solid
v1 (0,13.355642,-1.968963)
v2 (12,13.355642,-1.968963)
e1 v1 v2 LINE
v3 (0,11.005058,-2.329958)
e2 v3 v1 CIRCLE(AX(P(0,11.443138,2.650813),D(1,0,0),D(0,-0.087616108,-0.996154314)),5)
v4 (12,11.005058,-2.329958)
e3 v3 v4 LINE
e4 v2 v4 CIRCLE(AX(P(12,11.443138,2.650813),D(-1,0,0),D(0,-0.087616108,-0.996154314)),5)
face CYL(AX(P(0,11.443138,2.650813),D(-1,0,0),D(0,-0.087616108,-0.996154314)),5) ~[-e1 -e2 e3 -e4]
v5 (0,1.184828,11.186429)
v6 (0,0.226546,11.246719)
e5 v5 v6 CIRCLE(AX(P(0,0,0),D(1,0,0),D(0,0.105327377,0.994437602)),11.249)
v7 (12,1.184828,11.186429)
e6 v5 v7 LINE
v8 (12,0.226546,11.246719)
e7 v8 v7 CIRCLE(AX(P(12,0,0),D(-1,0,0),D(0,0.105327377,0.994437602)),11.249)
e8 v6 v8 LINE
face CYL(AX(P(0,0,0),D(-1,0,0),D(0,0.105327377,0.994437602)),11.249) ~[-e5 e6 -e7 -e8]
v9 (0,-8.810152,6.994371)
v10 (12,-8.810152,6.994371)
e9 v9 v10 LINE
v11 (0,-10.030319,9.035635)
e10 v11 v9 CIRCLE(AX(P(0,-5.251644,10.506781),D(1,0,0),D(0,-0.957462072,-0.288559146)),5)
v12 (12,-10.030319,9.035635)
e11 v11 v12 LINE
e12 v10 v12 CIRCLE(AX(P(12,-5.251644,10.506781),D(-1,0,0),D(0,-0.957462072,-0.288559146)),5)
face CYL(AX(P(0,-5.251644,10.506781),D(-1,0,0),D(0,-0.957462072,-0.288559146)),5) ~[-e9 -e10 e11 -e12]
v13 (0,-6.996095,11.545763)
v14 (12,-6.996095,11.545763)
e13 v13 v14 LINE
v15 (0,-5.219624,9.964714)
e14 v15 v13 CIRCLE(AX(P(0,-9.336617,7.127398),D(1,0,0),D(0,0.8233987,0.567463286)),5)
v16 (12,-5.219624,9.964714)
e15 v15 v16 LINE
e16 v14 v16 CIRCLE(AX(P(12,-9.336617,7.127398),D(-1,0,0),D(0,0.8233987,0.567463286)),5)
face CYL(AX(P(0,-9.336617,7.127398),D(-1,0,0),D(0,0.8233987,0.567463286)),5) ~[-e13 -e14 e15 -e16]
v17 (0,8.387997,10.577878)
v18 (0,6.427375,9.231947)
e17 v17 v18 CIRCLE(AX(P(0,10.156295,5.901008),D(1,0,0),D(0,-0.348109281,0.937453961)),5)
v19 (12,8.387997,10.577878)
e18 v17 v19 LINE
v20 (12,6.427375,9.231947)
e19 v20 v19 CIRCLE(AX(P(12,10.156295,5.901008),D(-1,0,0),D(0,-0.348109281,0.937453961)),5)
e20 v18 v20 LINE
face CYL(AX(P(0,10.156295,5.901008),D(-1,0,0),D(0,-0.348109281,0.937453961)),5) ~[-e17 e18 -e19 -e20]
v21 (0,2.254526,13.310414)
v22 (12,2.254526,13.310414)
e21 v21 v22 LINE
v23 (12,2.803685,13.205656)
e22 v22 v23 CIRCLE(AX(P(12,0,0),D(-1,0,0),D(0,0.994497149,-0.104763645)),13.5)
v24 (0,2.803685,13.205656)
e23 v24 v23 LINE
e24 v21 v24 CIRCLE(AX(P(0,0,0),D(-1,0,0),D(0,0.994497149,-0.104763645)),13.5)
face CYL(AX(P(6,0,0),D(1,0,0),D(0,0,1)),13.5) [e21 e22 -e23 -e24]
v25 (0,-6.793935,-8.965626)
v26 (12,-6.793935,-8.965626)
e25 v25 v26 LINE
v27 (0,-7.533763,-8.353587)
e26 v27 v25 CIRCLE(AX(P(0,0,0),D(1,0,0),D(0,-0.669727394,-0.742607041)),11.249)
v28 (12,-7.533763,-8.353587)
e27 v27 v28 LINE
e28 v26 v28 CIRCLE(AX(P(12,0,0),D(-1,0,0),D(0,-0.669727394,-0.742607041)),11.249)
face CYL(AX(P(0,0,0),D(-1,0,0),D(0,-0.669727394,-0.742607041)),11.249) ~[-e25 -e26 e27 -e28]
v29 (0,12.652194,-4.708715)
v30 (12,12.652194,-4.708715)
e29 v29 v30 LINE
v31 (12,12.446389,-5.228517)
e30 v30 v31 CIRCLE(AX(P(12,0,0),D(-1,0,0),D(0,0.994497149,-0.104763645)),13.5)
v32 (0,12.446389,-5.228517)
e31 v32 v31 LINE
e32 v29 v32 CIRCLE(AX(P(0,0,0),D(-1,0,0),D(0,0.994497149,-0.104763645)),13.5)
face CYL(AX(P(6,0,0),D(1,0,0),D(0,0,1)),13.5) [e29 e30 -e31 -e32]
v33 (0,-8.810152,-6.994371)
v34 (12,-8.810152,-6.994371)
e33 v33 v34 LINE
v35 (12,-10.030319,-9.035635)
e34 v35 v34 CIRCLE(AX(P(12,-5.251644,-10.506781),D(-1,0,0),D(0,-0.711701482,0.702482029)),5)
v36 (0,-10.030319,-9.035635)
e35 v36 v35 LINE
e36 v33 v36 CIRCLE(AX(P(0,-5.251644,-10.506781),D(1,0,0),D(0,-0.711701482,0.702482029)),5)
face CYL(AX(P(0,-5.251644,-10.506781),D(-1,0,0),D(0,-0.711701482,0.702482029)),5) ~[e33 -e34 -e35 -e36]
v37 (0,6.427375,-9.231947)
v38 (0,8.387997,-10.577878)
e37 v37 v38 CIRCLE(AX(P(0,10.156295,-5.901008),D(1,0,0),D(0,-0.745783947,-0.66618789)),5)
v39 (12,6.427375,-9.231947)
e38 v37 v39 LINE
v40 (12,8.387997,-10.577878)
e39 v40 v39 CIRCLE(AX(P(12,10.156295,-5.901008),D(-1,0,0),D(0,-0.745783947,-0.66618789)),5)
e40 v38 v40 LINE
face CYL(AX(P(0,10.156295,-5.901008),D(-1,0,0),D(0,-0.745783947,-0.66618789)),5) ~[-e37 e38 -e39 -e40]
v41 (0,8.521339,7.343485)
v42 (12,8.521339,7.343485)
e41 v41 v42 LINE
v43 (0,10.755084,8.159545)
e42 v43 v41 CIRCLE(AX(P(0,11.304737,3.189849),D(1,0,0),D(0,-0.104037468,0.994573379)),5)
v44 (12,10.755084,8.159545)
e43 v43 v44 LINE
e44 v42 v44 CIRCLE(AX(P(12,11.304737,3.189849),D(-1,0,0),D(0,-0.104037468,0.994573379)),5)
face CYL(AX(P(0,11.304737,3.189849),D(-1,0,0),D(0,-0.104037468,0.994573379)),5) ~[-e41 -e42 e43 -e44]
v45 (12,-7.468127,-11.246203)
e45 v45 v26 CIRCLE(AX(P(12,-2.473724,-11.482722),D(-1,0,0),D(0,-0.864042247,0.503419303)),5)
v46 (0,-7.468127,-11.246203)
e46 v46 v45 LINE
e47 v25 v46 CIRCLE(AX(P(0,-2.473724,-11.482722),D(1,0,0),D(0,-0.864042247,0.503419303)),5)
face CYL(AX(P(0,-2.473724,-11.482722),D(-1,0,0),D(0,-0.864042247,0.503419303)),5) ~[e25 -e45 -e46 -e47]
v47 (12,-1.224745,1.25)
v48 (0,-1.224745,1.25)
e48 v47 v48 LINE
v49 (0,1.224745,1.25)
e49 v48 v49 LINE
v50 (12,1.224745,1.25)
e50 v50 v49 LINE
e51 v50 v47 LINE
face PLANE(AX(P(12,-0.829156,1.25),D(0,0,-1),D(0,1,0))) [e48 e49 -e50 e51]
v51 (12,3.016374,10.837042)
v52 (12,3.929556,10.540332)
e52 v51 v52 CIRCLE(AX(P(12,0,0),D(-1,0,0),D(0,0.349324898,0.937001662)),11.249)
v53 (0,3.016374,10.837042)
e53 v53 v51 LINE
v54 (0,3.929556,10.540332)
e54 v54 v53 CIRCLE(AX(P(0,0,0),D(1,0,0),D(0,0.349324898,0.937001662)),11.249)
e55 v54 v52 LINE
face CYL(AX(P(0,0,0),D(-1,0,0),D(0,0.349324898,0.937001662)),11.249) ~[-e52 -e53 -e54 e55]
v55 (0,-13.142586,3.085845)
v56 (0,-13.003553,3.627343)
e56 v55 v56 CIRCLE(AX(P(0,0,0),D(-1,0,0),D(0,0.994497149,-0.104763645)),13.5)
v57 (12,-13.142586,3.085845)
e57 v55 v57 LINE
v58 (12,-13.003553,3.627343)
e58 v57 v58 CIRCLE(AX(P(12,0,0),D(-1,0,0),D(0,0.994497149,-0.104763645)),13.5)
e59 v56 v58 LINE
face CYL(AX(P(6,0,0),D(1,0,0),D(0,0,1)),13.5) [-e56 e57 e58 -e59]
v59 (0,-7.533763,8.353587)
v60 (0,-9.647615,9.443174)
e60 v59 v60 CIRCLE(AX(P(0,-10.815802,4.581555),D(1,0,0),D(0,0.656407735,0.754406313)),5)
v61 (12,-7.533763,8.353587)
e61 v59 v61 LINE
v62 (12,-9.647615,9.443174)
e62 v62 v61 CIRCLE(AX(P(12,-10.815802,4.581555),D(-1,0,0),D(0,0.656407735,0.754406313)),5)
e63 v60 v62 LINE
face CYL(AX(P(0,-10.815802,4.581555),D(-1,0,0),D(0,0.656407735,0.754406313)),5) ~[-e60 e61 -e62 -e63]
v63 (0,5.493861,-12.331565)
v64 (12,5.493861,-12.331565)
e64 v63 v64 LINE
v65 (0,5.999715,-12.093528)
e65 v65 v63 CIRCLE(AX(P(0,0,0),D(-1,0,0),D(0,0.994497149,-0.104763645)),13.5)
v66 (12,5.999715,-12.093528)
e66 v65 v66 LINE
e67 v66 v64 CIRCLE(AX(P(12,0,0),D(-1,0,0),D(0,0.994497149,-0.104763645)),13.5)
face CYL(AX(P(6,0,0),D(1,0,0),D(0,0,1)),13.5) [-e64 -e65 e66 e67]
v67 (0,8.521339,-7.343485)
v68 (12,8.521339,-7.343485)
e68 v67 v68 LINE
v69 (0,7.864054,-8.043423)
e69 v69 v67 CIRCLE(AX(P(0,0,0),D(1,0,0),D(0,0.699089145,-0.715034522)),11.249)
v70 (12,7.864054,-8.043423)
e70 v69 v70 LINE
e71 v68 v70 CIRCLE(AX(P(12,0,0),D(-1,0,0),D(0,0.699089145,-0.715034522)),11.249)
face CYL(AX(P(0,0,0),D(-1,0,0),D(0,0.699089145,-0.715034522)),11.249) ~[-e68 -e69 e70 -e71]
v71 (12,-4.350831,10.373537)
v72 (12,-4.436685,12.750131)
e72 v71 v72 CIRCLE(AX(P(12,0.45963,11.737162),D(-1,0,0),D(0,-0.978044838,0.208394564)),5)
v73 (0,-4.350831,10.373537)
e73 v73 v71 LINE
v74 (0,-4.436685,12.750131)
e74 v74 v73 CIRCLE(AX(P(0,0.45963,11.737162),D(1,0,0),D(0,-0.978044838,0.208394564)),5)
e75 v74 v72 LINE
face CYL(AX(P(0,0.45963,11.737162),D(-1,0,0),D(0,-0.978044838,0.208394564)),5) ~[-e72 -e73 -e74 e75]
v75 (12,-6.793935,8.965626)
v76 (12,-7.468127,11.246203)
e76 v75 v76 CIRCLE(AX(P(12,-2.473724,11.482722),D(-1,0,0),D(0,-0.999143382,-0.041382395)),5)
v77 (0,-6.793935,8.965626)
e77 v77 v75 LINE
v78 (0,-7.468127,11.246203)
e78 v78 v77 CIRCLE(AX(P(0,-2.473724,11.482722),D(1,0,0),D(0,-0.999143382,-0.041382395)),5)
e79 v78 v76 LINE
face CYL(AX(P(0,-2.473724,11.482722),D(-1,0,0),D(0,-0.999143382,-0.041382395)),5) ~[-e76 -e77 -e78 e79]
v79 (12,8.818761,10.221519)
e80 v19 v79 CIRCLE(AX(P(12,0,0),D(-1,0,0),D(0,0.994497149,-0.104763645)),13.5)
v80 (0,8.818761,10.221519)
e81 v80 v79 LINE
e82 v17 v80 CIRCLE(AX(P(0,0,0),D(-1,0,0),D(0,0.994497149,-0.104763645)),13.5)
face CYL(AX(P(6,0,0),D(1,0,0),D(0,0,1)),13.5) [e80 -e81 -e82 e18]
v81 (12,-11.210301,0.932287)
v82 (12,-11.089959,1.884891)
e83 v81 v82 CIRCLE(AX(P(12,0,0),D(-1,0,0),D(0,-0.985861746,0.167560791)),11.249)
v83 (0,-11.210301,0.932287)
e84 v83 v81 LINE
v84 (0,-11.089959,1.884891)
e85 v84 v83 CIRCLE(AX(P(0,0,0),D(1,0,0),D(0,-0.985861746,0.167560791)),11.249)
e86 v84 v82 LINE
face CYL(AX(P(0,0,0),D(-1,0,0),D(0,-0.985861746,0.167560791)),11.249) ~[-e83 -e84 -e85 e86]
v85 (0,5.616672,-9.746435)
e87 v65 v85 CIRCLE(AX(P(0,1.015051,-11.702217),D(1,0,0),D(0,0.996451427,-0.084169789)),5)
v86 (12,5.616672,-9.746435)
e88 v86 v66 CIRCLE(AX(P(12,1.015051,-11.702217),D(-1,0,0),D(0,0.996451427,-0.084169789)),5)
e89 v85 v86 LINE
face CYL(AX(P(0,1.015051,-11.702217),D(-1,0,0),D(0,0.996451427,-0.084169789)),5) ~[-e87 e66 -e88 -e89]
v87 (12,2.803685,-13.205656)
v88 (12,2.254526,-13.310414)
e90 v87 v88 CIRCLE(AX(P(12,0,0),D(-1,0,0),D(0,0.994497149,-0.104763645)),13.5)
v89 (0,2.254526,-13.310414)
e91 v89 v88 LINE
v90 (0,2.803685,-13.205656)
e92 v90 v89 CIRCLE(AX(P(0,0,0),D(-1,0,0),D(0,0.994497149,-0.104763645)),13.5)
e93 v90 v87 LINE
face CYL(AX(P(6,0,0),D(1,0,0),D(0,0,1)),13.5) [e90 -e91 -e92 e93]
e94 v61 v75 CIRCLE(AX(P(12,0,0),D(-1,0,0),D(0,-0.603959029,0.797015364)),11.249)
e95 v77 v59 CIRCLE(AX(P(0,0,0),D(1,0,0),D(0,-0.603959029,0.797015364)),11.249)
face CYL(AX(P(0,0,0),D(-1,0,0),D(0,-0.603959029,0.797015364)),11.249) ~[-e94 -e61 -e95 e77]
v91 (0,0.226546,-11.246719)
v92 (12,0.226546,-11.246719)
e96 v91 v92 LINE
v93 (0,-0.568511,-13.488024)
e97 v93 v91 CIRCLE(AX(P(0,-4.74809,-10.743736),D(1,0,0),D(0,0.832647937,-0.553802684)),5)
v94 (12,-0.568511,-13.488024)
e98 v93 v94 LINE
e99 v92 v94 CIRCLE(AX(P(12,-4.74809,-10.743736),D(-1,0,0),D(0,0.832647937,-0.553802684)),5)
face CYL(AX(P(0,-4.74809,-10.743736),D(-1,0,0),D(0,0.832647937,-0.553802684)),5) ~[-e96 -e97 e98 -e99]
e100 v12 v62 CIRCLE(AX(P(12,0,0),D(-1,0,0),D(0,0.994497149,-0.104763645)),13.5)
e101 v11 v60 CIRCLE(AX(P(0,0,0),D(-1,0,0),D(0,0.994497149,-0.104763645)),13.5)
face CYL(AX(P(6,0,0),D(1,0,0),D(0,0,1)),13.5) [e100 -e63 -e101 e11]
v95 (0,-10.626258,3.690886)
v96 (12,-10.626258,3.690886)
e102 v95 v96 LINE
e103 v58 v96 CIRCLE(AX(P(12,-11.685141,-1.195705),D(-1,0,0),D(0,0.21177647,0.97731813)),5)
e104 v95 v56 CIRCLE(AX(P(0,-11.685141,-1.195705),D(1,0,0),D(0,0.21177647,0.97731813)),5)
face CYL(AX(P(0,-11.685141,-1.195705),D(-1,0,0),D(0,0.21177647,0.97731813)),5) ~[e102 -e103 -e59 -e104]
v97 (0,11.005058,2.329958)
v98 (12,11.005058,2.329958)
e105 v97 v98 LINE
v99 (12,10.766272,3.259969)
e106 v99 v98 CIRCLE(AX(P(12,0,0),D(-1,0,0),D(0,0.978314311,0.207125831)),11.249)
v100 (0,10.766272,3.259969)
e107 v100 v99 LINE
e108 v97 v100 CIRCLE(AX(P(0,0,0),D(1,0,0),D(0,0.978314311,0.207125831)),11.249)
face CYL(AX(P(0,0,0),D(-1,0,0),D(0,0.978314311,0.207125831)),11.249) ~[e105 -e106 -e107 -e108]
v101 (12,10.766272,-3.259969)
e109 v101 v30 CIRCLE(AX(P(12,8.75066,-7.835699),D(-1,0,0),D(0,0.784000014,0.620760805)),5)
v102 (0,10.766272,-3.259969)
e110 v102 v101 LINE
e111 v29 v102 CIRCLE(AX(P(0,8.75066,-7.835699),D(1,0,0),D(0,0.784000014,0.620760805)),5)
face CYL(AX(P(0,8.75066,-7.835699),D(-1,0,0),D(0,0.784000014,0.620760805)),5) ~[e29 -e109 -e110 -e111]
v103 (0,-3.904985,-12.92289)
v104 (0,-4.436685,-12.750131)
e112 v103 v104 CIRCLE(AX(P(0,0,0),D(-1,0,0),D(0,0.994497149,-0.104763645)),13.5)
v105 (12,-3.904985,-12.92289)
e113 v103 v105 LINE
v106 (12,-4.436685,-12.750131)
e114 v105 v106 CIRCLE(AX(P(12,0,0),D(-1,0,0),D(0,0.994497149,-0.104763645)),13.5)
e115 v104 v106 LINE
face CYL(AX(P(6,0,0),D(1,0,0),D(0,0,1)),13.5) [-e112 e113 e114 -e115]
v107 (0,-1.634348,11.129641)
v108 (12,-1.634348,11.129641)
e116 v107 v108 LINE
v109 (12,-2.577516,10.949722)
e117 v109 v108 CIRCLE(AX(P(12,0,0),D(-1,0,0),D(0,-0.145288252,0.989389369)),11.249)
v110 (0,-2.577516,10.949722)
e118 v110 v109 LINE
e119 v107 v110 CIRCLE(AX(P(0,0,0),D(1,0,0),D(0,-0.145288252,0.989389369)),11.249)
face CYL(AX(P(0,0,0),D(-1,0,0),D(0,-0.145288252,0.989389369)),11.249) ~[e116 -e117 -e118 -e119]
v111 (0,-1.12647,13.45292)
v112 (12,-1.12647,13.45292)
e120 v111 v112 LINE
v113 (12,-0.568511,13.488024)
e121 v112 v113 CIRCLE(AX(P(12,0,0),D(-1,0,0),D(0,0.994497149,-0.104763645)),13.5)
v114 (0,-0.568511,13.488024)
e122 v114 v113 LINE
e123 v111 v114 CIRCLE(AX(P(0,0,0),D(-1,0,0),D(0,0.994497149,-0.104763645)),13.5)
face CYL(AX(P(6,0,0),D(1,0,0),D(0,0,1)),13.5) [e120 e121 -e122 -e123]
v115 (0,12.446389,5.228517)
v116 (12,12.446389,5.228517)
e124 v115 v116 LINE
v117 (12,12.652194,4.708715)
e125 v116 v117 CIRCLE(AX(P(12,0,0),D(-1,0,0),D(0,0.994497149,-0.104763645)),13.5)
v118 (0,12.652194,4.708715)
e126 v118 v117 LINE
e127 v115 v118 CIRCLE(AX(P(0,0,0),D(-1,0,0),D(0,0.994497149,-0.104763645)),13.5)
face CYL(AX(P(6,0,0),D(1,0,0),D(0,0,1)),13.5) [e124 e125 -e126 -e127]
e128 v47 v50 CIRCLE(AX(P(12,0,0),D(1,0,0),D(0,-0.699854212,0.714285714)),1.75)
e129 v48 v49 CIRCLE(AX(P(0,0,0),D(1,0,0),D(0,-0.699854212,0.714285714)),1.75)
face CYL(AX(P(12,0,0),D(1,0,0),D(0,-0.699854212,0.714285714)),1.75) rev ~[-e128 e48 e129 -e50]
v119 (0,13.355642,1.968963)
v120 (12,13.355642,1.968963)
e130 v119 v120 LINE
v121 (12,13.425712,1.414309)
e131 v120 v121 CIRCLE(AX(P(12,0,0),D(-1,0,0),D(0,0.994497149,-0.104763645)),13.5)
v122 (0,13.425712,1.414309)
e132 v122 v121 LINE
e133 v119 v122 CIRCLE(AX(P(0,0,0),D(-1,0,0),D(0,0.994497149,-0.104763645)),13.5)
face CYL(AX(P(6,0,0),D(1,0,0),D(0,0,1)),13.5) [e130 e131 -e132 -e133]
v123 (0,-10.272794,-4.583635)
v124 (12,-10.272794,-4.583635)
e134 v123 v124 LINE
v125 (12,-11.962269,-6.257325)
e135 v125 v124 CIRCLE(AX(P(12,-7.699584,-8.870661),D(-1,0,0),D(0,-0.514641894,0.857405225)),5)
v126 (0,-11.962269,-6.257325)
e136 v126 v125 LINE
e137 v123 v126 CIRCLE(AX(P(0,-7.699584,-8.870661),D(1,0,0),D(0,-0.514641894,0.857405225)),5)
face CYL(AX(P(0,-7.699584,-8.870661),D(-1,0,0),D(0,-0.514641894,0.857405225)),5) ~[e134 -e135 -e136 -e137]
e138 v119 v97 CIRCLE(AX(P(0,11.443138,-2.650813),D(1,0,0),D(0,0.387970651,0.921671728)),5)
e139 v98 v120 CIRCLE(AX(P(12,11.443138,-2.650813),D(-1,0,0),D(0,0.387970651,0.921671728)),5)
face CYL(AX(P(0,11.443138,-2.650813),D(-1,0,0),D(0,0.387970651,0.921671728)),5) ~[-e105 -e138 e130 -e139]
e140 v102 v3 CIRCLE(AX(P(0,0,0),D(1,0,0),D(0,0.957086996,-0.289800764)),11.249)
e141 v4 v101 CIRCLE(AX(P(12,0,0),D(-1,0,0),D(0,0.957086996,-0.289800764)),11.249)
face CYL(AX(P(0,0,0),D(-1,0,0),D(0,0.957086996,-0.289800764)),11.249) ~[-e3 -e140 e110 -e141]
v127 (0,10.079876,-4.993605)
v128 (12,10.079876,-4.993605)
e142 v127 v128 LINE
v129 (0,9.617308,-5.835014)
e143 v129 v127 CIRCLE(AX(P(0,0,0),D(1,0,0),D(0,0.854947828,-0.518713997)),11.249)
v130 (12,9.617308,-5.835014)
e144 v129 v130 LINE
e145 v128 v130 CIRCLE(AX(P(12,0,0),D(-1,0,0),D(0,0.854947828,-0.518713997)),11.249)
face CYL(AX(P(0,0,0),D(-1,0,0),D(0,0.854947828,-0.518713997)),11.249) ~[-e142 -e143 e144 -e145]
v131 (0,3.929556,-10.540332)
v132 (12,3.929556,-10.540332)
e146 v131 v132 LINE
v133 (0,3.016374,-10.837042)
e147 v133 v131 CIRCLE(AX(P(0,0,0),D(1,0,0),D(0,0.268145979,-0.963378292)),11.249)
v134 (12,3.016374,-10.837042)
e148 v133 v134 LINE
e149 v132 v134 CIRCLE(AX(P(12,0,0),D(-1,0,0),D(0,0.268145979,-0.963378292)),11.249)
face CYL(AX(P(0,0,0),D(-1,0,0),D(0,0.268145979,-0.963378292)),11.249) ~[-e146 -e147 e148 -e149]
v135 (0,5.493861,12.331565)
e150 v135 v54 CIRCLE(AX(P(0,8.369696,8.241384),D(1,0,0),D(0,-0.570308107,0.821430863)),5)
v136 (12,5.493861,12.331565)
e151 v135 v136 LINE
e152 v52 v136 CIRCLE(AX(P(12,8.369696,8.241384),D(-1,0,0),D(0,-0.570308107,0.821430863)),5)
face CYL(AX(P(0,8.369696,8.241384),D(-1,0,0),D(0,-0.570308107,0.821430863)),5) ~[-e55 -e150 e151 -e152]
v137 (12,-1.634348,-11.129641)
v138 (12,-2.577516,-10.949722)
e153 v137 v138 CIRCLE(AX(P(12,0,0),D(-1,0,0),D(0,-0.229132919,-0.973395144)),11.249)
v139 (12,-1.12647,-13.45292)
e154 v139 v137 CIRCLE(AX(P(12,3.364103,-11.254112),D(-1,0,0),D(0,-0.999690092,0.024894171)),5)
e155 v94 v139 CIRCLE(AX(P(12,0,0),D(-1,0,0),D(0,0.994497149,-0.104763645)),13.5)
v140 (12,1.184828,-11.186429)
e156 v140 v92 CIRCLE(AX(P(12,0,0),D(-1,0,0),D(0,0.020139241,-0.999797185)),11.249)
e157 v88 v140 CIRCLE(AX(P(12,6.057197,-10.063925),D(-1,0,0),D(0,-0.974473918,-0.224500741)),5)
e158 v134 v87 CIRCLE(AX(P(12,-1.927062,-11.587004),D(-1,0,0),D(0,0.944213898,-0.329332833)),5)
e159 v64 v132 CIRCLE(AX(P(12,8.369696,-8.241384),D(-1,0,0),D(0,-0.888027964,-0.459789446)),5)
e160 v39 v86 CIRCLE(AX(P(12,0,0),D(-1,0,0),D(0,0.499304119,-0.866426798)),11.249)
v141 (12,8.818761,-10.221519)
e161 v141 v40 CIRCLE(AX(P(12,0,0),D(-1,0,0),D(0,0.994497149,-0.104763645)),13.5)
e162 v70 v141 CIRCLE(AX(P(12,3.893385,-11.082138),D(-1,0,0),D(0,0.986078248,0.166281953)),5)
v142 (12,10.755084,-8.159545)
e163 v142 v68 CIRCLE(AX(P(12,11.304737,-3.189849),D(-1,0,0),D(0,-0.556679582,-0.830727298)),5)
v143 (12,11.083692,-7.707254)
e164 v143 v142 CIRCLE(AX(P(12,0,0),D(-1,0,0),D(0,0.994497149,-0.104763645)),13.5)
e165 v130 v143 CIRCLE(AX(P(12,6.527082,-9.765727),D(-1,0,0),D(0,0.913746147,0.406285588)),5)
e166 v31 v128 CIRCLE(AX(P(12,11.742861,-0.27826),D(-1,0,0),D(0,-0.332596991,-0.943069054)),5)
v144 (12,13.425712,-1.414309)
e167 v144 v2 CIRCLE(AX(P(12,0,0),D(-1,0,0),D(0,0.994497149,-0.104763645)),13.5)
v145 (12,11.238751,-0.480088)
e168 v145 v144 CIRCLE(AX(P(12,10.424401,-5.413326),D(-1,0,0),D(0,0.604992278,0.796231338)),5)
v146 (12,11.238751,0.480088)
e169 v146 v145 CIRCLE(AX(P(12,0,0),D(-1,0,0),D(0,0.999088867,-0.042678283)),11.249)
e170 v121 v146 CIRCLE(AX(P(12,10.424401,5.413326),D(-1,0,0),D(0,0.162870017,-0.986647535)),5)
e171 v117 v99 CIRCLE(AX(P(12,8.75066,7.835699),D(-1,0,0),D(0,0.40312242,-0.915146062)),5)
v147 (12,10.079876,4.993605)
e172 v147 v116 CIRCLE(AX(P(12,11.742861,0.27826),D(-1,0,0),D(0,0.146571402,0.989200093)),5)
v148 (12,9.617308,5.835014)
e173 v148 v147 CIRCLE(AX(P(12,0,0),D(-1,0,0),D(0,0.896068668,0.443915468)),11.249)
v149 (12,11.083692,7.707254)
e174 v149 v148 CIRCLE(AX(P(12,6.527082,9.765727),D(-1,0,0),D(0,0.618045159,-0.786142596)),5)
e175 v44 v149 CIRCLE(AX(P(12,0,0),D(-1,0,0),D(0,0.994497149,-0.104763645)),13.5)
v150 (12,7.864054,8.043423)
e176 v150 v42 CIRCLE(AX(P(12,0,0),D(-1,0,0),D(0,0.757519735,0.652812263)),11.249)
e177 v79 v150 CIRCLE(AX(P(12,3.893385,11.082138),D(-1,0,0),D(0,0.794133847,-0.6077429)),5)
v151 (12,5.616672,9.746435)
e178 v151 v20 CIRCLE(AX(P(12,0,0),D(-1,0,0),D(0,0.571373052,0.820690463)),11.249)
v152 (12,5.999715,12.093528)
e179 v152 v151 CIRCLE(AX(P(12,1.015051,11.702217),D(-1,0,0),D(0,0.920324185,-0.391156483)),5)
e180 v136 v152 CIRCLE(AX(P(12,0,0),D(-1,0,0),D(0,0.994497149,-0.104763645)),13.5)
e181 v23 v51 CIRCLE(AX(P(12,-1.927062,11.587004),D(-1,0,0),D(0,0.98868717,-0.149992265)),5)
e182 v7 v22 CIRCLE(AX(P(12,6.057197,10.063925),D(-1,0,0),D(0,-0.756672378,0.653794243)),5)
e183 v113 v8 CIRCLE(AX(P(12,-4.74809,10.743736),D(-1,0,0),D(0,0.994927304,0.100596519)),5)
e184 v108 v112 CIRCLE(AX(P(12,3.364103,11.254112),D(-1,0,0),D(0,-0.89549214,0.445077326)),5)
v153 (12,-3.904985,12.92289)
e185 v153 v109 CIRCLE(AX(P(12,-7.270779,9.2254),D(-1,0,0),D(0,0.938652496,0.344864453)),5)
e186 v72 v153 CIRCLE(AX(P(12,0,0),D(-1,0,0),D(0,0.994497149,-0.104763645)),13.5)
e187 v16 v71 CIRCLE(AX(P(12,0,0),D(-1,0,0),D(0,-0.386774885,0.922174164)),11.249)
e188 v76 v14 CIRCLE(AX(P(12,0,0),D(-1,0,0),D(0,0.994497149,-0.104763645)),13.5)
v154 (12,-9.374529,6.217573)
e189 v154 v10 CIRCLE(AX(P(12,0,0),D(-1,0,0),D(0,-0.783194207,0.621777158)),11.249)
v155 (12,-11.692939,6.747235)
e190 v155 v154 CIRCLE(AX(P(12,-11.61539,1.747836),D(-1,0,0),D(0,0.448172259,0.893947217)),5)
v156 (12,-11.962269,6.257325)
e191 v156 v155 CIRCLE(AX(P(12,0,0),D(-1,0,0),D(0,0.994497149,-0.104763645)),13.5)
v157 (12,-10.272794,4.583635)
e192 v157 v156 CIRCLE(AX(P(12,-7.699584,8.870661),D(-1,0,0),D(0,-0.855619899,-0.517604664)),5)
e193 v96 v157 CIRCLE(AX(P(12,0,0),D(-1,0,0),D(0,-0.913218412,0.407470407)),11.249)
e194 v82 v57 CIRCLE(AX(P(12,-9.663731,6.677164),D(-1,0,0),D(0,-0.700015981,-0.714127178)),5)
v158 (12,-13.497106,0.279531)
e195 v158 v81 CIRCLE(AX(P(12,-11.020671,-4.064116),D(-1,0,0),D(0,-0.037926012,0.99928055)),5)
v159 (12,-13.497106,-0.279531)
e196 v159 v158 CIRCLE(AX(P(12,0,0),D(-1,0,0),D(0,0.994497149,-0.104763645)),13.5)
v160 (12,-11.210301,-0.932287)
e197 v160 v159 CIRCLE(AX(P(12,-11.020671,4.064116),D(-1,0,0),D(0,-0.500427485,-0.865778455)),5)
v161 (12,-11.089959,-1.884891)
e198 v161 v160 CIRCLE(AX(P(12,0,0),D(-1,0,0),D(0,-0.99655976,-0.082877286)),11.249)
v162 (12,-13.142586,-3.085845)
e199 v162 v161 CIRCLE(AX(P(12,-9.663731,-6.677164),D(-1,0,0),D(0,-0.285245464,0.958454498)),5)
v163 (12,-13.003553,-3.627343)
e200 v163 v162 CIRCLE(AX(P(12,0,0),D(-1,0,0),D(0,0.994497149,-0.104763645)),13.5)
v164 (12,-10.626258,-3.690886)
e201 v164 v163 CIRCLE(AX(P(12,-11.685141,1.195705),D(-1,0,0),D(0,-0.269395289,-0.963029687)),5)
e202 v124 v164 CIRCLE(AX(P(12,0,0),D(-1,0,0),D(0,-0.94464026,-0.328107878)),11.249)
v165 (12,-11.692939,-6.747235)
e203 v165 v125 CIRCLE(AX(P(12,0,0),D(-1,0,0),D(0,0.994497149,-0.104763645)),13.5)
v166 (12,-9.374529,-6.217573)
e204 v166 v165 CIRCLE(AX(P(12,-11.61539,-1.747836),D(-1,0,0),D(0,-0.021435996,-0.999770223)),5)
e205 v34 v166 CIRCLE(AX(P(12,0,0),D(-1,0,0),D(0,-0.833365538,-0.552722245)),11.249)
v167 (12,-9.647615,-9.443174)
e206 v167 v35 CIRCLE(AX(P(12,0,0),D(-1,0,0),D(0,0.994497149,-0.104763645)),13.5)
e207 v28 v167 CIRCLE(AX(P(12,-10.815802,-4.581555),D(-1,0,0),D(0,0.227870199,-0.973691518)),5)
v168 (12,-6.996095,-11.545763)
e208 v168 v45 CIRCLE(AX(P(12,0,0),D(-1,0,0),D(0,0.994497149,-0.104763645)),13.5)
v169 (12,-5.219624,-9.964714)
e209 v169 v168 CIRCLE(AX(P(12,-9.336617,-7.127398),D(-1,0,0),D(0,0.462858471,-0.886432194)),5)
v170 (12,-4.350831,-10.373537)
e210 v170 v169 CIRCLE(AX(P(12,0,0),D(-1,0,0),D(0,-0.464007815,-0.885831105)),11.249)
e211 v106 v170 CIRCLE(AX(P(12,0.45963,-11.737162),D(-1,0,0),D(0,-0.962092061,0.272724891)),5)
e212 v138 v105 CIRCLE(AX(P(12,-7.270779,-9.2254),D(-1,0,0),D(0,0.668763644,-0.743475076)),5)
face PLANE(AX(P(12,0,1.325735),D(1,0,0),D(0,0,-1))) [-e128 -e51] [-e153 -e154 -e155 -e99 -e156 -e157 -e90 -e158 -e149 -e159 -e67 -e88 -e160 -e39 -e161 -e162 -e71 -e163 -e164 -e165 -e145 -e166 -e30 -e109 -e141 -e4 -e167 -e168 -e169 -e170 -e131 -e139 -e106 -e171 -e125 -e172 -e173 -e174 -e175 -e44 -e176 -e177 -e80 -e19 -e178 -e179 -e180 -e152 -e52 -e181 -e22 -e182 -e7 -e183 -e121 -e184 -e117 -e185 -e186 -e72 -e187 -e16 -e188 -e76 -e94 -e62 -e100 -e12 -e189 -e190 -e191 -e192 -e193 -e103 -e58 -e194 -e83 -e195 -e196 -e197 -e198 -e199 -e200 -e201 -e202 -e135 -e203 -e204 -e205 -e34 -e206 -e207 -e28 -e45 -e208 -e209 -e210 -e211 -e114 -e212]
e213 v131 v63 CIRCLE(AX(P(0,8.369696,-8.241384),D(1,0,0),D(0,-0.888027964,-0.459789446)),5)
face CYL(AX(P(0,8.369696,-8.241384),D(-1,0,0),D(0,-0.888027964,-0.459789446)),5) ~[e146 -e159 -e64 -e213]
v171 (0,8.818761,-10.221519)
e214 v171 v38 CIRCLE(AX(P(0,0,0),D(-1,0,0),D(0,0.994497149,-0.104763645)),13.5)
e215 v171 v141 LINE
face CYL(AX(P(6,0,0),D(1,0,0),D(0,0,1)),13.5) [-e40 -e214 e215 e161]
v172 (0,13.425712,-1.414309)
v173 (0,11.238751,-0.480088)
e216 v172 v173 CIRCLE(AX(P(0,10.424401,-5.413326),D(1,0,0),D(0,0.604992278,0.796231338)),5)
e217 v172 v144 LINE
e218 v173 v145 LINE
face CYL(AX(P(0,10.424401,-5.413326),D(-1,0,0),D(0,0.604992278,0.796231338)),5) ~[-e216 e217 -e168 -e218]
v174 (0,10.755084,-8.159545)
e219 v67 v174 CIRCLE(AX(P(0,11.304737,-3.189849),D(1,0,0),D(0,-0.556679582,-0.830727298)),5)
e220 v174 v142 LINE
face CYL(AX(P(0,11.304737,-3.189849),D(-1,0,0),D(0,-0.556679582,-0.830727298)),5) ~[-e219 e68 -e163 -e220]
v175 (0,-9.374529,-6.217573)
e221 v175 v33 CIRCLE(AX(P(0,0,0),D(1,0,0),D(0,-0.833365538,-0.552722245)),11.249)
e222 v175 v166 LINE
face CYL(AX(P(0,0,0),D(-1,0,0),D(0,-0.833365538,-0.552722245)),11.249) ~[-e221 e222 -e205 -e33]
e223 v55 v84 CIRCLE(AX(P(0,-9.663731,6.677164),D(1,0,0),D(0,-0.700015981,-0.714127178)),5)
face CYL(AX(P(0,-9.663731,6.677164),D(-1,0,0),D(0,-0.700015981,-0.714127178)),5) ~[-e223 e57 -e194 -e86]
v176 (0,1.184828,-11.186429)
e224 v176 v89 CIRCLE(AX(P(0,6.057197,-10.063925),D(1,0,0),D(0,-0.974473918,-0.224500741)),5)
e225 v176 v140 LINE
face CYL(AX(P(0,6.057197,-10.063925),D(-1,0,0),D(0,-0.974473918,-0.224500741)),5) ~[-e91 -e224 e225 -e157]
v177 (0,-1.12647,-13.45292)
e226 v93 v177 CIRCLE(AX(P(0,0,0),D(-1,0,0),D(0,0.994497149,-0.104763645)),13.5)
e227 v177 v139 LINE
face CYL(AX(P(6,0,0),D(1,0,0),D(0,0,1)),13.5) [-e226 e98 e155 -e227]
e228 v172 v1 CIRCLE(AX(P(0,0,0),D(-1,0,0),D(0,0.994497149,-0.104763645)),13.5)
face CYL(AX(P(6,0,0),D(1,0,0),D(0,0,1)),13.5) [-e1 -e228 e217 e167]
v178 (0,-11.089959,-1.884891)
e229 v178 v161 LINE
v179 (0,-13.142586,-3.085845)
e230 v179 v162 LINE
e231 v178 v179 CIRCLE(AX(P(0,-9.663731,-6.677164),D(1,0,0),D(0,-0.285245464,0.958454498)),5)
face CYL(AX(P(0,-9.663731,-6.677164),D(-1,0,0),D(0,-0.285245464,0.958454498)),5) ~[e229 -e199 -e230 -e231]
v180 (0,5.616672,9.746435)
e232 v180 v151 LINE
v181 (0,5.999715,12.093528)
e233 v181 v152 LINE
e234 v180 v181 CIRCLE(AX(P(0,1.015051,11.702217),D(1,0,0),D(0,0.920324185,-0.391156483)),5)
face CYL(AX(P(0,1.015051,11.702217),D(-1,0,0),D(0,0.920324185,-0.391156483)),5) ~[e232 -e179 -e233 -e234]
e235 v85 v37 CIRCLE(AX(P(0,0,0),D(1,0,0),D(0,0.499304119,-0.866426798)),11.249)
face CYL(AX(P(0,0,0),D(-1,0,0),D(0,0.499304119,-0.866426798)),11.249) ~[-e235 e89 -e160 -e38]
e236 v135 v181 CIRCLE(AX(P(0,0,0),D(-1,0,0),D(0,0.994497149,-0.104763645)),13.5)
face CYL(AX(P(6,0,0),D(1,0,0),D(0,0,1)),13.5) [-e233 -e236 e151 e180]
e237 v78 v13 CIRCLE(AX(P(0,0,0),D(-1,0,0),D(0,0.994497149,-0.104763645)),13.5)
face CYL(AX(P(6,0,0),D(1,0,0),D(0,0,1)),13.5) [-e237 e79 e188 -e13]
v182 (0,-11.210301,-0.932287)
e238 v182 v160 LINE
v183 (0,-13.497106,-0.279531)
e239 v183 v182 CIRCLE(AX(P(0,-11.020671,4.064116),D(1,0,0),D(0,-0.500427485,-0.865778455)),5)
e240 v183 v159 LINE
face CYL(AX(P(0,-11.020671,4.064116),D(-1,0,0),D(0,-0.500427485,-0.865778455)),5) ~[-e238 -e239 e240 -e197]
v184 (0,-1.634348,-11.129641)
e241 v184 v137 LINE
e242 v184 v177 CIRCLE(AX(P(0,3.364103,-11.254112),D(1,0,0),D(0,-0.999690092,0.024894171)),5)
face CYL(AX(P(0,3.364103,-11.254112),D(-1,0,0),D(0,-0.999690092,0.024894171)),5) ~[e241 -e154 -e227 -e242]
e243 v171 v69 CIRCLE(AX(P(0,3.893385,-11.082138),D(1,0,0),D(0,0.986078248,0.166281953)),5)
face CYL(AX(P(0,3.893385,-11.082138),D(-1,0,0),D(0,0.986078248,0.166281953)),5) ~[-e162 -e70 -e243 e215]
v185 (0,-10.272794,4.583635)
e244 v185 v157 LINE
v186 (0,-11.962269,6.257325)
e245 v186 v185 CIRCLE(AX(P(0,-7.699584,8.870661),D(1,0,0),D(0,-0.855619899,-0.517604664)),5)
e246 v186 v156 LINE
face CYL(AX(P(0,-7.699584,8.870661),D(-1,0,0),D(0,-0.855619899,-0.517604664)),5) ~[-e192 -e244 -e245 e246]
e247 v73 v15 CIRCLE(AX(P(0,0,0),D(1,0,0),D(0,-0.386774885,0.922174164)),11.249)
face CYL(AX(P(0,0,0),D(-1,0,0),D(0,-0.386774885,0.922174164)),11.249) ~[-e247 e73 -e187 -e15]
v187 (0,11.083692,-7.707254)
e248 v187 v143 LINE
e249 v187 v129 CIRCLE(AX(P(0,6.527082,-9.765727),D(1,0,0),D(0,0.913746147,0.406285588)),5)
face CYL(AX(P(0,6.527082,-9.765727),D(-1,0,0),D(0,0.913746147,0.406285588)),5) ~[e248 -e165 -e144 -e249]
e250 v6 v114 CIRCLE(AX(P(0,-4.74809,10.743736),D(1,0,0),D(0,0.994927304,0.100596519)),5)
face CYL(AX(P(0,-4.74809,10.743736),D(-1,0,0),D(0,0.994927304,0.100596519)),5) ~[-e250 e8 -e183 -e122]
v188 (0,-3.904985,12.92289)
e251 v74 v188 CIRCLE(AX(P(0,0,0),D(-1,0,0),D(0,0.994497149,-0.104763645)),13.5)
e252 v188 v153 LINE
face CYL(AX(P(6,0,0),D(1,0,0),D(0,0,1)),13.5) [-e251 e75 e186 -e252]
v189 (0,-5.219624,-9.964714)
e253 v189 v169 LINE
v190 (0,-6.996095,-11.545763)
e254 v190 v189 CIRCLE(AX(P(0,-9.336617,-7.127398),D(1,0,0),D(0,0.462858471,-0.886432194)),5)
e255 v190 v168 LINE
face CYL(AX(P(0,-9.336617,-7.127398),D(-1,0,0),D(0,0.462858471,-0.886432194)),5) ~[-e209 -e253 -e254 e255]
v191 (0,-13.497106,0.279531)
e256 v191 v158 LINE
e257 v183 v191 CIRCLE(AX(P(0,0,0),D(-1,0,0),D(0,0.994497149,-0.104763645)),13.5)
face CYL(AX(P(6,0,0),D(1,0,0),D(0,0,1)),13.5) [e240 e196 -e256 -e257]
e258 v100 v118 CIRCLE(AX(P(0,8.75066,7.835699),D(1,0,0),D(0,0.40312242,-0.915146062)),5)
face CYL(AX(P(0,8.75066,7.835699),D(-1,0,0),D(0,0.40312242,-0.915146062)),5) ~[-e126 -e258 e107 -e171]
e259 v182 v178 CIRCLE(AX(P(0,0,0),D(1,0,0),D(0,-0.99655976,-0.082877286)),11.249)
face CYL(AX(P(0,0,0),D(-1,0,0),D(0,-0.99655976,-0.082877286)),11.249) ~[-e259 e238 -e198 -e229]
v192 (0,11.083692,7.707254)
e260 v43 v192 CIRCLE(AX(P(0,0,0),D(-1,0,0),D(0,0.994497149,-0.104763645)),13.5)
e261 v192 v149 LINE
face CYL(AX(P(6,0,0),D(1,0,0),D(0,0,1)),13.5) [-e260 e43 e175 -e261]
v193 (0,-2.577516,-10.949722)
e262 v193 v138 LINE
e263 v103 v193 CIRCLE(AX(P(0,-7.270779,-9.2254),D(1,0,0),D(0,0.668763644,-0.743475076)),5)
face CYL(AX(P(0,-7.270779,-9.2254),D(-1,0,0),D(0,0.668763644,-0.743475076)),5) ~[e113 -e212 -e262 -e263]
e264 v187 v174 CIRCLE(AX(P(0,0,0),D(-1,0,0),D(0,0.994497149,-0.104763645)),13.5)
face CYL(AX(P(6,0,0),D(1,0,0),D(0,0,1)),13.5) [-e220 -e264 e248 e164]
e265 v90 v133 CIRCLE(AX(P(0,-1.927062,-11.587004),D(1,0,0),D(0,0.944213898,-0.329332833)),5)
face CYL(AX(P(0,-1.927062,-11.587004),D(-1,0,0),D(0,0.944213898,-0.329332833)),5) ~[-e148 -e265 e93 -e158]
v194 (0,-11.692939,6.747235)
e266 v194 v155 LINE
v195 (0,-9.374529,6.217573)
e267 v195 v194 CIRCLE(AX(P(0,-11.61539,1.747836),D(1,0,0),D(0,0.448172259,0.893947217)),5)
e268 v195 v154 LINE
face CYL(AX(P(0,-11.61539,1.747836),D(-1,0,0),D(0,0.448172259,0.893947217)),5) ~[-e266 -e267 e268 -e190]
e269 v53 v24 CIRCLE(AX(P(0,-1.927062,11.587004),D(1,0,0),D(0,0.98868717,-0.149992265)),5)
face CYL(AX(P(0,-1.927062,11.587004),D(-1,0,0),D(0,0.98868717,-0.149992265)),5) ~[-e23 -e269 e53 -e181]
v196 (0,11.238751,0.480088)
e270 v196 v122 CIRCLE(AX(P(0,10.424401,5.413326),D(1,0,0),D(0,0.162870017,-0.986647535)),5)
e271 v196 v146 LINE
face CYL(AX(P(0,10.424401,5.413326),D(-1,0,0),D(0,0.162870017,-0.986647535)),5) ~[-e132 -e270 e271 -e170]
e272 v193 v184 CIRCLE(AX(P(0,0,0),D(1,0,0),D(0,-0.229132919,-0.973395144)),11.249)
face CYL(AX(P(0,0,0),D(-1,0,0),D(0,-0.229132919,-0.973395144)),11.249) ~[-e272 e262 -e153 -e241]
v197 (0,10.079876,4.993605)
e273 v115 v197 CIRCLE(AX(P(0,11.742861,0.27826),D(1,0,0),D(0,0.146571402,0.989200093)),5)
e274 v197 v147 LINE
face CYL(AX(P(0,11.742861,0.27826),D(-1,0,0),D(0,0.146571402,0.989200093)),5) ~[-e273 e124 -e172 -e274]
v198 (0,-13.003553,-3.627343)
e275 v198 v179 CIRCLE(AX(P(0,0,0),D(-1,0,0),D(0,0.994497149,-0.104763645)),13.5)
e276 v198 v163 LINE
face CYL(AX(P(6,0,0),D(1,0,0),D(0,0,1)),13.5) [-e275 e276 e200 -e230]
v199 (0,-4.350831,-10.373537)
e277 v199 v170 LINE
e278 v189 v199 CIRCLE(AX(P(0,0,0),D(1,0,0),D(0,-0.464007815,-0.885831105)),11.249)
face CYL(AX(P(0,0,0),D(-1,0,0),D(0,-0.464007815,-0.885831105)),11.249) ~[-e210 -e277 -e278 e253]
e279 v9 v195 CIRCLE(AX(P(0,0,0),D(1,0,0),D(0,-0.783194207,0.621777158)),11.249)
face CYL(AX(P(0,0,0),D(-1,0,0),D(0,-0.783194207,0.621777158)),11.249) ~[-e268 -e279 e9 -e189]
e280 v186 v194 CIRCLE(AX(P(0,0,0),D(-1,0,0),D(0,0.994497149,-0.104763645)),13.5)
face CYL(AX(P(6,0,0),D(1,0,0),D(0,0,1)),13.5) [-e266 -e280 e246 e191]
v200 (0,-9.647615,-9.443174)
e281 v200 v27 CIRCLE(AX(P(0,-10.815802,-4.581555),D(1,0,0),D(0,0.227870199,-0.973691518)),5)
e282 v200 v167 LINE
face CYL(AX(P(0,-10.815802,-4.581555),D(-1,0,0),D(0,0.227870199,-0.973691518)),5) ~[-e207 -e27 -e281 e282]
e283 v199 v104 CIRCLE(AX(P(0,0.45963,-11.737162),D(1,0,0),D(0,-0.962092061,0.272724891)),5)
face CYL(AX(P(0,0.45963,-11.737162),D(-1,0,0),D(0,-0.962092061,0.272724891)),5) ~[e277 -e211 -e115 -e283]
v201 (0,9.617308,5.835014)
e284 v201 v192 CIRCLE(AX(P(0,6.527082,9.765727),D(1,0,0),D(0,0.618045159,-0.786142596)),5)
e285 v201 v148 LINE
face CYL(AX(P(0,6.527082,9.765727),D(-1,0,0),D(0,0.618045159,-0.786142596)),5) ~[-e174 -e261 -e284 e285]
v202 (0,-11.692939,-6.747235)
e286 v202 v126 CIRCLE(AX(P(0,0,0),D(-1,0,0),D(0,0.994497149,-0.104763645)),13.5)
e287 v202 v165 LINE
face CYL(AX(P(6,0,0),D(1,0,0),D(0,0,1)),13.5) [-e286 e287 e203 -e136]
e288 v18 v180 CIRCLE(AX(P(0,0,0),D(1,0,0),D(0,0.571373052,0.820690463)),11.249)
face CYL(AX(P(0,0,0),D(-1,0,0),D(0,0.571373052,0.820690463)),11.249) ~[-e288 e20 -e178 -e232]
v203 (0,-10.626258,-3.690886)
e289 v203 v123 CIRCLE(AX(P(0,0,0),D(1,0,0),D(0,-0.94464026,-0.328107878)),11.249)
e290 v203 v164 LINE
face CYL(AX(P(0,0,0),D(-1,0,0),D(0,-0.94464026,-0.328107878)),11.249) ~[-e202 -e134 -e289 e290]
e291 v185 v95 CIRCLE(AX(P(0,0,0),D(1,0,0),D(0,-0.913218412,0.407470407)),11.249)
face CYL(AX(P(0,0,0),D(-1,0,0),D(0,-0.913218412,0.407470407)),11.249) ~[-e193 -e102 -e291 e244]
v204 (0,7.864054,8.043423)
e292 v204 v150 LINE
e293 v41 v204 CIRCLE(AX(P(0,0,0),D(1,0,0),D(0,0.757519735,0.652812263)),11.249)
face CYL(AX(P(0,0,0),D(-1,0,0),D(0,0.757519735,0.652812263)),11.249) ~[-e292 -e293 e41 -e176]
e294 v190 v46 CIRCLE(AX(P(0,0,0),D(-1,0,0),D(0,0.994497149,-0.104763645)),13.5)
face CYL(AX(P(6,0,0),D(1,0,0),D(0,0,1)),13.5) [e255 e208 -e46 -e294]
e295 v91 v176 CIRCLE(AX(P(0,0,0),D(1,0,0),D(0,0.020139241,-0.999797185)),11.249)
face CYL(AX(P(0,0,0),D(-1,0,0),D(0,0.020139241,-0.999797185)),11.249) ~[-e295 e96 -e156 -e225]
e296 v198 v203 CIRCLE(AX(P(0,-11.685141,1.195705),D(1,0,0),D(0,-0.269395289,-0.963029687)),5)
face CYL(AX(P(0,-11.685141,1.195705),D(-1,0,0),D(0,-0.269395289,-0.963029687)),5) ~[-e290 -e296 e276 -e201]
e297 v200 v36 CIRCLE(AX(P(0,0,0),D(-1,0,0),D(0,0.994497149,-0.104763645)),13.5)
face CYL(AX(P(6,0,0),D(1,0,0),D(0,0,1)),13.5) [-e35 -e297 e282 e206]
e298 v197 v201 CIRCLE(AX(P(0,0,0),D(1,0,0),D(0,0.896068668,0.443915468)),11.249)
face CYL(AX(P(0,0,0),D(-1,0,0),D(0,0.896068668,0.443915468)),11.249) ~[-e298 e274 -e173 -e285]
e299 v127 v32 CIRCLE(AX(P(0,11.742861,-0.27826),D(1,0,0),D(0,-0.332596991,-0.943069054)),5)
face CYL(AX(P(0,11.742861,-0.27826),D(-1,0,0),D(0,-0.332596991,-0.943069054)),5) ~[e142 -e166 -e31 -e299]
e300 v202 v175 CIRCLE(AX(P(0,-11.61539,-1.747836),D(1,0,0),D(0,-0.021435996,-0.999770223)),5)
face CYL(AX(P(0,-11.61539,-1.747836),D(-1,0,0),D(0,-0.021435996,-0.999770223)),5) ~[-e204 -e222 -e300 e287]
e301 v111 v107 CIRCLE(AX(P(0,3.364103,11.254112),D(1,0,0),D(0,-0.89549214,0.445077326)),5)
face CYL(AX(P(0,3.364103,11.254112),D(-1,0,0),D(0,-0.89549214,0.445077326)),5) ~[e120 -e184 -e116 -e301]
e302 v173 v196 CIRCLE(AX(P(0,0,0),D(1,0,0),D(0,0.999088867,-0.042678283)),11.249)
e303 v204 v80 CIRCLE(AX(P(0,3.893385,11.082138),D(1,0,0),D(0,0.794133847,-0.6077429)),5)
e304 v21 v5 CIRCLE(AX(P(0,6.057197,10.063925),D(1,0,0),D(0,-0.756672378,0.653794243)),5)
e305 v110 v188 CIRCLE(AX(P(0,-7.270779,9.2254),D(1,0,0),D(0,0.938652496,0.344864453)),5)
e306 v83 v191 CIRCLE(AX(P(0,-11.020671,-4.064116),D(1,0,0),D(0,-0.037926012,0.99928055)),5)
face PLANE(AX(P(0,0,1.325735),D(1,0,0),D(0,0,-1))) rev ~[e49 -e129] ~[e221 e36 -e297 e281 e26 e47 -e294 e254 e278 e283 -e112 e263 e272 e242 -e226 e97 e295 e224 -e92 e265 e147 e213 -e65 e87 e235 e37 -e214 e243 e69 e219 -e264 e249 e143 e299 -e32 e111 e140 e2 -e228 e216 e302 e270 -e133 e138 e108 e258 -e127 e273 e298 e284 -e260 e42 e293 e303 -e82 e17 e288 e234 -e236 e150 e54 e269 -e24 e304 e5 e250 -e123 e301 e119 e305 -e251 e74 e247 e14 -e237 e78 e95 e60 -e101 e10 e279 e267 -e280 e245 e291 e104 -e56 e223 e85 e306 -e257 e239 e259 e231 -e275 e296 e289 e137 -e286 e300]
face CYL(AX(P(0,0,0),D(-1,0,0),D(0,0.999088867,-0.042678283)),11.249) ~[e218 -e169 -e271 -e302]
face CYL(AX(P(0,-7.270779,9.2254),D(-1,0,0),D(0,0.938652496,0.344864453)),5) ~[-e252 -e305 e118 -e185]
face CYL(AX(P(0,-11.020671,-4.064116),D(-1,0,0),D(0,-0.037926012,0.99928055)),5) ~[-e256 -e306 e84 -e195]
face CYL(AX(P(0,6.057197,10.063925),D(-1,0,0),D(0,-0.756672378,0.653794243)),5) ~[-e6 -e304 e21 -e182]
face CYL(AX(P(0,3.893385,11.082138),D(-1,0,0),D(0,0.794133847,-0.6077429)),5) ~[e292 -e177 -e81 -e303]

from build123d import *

# Parameters (mm, degrees)
BASPROSKE_W         = 12
BASPROSKE_H         = 13.5
TOOTHCUT_DEPTH      = 23.549944568
TEETHCUTS_COUNT     = 25
TEETHCUTS_ANGLE     = 345.6
BORSKE_R            = 1.5
BORE_DEPTH          = 50.0000508
CUT_EXTRUDE1_DEPTH  = 23.542777009
BOSS_EXTRUDE2_DEPTH = 12


with BuildPart() as part:
    # BasProSke → Base-Revolve (revolve)
    with BuildSketch(Plane(origin=(0, 0, 0), x_dir=(1, 0, 0), z_dir=(0, 1, 0)), mode=Mode.PRIVATE) as base_revolve_sk:
        with Locations((6, 6.75)):
            Rectangle(BASPROSKE_W, BASPROSKE_H)
    revolve(base_revolve_sk.sketch.rotate(Axis((-10, 0, 0), (1, 0, 0)), 180), axis=Axis((-10, 0, 0), (1, 0, 0)))

    # TooCutSke → ToothCut (cut, through all)
    with BuildSketch(Plane(origin=(0, 0, 0), x_dir=(0, 0, -1), z_dir=(1, 0, 0))):
        with BuildLine():
            ThreePointArc((0.480087995, 11.238750665), (0, 11.249), (-0.480087995, 11.238750665))
            ThreePointArc((-0.480087995, 11.238750665), (-0.821124963, 12.40220054), (-1.432168974, 13.449361962))
            ThreePointArc((-1.432168974, 13.449361962), (0, 13.5254), (1.432168974, 13.449361962))
            ThreePointArc((1.432168974, 13.449361962), (0.821124963, 12.40220054), (0.480087995, 11.238750665))
        make_face()
    toothcut = extrude(amount=TOOTHCUT_DEPTH, mode=Mode.SUBTRACT)

    # TeethCuts: ToothCut ×25 about axis
    teethcuts_axis = Axis((-10, 0, 0), (1, 0, 0))
    for i in range(1, TEETHCUTS_COUNT):
        add(toothcut.rotate(teethcuts_axis, i * TEETHCUTS_ANGLE / (TEETHCUTS_COUNT - 1)), mode=Mode.SUBTRACT)

    # BorSke → Bore (cut, symmetric)
    with BuildSketch(Plane(origin=(0, 0, 0), x_dir=(0, 0, -1), z_dir=(1, 0, 0))):
        with Locations(Location((0, 0, 0), (0, 0, 180))):
            Circle(BORSKE_R)
    extrude(amount=BORE_DEPTH, both=True, mode=Mode.SUBTRACT)

    # Sketch1 → Cut-Extrude1 (cut, through all)
    with BuildSketch(Plane(origin=(12, 0, 0), x_dir=(0, 0, -1), z_dir=(1, 0, 0))):
        with BuildLine():
            Line((-1.25, 1.224744871), (-1.25, -1.224744871))
            ThreePointArc((-1.25, -1.224744871), (1.75, 0), (-1.25, 1.224744871))
        make_face()
    extrude(amount=-CUT_EXTRUDE1_DEPTH, mode=Mode.SUBTRACT)

    # Sketch1<4> → Boss-Extrude2 (add, through all)
    with BuildSketch(Plane(origin=(12, 0, 0), x_dir=(0, 0, -1), z_dir=(1, 0, 0))):
        with BuildLine():
            Line((-1.25, -0.829156198), (-1.25, 0.829156198))
            ThreePointArc((-1.25, 0.829156198), (-1.5, 0), (-1.25, -0.829156198))
        make_face()
    extrude(amount=-BOSS_EXTRUDE2_DEPTH)


solid = part.part
